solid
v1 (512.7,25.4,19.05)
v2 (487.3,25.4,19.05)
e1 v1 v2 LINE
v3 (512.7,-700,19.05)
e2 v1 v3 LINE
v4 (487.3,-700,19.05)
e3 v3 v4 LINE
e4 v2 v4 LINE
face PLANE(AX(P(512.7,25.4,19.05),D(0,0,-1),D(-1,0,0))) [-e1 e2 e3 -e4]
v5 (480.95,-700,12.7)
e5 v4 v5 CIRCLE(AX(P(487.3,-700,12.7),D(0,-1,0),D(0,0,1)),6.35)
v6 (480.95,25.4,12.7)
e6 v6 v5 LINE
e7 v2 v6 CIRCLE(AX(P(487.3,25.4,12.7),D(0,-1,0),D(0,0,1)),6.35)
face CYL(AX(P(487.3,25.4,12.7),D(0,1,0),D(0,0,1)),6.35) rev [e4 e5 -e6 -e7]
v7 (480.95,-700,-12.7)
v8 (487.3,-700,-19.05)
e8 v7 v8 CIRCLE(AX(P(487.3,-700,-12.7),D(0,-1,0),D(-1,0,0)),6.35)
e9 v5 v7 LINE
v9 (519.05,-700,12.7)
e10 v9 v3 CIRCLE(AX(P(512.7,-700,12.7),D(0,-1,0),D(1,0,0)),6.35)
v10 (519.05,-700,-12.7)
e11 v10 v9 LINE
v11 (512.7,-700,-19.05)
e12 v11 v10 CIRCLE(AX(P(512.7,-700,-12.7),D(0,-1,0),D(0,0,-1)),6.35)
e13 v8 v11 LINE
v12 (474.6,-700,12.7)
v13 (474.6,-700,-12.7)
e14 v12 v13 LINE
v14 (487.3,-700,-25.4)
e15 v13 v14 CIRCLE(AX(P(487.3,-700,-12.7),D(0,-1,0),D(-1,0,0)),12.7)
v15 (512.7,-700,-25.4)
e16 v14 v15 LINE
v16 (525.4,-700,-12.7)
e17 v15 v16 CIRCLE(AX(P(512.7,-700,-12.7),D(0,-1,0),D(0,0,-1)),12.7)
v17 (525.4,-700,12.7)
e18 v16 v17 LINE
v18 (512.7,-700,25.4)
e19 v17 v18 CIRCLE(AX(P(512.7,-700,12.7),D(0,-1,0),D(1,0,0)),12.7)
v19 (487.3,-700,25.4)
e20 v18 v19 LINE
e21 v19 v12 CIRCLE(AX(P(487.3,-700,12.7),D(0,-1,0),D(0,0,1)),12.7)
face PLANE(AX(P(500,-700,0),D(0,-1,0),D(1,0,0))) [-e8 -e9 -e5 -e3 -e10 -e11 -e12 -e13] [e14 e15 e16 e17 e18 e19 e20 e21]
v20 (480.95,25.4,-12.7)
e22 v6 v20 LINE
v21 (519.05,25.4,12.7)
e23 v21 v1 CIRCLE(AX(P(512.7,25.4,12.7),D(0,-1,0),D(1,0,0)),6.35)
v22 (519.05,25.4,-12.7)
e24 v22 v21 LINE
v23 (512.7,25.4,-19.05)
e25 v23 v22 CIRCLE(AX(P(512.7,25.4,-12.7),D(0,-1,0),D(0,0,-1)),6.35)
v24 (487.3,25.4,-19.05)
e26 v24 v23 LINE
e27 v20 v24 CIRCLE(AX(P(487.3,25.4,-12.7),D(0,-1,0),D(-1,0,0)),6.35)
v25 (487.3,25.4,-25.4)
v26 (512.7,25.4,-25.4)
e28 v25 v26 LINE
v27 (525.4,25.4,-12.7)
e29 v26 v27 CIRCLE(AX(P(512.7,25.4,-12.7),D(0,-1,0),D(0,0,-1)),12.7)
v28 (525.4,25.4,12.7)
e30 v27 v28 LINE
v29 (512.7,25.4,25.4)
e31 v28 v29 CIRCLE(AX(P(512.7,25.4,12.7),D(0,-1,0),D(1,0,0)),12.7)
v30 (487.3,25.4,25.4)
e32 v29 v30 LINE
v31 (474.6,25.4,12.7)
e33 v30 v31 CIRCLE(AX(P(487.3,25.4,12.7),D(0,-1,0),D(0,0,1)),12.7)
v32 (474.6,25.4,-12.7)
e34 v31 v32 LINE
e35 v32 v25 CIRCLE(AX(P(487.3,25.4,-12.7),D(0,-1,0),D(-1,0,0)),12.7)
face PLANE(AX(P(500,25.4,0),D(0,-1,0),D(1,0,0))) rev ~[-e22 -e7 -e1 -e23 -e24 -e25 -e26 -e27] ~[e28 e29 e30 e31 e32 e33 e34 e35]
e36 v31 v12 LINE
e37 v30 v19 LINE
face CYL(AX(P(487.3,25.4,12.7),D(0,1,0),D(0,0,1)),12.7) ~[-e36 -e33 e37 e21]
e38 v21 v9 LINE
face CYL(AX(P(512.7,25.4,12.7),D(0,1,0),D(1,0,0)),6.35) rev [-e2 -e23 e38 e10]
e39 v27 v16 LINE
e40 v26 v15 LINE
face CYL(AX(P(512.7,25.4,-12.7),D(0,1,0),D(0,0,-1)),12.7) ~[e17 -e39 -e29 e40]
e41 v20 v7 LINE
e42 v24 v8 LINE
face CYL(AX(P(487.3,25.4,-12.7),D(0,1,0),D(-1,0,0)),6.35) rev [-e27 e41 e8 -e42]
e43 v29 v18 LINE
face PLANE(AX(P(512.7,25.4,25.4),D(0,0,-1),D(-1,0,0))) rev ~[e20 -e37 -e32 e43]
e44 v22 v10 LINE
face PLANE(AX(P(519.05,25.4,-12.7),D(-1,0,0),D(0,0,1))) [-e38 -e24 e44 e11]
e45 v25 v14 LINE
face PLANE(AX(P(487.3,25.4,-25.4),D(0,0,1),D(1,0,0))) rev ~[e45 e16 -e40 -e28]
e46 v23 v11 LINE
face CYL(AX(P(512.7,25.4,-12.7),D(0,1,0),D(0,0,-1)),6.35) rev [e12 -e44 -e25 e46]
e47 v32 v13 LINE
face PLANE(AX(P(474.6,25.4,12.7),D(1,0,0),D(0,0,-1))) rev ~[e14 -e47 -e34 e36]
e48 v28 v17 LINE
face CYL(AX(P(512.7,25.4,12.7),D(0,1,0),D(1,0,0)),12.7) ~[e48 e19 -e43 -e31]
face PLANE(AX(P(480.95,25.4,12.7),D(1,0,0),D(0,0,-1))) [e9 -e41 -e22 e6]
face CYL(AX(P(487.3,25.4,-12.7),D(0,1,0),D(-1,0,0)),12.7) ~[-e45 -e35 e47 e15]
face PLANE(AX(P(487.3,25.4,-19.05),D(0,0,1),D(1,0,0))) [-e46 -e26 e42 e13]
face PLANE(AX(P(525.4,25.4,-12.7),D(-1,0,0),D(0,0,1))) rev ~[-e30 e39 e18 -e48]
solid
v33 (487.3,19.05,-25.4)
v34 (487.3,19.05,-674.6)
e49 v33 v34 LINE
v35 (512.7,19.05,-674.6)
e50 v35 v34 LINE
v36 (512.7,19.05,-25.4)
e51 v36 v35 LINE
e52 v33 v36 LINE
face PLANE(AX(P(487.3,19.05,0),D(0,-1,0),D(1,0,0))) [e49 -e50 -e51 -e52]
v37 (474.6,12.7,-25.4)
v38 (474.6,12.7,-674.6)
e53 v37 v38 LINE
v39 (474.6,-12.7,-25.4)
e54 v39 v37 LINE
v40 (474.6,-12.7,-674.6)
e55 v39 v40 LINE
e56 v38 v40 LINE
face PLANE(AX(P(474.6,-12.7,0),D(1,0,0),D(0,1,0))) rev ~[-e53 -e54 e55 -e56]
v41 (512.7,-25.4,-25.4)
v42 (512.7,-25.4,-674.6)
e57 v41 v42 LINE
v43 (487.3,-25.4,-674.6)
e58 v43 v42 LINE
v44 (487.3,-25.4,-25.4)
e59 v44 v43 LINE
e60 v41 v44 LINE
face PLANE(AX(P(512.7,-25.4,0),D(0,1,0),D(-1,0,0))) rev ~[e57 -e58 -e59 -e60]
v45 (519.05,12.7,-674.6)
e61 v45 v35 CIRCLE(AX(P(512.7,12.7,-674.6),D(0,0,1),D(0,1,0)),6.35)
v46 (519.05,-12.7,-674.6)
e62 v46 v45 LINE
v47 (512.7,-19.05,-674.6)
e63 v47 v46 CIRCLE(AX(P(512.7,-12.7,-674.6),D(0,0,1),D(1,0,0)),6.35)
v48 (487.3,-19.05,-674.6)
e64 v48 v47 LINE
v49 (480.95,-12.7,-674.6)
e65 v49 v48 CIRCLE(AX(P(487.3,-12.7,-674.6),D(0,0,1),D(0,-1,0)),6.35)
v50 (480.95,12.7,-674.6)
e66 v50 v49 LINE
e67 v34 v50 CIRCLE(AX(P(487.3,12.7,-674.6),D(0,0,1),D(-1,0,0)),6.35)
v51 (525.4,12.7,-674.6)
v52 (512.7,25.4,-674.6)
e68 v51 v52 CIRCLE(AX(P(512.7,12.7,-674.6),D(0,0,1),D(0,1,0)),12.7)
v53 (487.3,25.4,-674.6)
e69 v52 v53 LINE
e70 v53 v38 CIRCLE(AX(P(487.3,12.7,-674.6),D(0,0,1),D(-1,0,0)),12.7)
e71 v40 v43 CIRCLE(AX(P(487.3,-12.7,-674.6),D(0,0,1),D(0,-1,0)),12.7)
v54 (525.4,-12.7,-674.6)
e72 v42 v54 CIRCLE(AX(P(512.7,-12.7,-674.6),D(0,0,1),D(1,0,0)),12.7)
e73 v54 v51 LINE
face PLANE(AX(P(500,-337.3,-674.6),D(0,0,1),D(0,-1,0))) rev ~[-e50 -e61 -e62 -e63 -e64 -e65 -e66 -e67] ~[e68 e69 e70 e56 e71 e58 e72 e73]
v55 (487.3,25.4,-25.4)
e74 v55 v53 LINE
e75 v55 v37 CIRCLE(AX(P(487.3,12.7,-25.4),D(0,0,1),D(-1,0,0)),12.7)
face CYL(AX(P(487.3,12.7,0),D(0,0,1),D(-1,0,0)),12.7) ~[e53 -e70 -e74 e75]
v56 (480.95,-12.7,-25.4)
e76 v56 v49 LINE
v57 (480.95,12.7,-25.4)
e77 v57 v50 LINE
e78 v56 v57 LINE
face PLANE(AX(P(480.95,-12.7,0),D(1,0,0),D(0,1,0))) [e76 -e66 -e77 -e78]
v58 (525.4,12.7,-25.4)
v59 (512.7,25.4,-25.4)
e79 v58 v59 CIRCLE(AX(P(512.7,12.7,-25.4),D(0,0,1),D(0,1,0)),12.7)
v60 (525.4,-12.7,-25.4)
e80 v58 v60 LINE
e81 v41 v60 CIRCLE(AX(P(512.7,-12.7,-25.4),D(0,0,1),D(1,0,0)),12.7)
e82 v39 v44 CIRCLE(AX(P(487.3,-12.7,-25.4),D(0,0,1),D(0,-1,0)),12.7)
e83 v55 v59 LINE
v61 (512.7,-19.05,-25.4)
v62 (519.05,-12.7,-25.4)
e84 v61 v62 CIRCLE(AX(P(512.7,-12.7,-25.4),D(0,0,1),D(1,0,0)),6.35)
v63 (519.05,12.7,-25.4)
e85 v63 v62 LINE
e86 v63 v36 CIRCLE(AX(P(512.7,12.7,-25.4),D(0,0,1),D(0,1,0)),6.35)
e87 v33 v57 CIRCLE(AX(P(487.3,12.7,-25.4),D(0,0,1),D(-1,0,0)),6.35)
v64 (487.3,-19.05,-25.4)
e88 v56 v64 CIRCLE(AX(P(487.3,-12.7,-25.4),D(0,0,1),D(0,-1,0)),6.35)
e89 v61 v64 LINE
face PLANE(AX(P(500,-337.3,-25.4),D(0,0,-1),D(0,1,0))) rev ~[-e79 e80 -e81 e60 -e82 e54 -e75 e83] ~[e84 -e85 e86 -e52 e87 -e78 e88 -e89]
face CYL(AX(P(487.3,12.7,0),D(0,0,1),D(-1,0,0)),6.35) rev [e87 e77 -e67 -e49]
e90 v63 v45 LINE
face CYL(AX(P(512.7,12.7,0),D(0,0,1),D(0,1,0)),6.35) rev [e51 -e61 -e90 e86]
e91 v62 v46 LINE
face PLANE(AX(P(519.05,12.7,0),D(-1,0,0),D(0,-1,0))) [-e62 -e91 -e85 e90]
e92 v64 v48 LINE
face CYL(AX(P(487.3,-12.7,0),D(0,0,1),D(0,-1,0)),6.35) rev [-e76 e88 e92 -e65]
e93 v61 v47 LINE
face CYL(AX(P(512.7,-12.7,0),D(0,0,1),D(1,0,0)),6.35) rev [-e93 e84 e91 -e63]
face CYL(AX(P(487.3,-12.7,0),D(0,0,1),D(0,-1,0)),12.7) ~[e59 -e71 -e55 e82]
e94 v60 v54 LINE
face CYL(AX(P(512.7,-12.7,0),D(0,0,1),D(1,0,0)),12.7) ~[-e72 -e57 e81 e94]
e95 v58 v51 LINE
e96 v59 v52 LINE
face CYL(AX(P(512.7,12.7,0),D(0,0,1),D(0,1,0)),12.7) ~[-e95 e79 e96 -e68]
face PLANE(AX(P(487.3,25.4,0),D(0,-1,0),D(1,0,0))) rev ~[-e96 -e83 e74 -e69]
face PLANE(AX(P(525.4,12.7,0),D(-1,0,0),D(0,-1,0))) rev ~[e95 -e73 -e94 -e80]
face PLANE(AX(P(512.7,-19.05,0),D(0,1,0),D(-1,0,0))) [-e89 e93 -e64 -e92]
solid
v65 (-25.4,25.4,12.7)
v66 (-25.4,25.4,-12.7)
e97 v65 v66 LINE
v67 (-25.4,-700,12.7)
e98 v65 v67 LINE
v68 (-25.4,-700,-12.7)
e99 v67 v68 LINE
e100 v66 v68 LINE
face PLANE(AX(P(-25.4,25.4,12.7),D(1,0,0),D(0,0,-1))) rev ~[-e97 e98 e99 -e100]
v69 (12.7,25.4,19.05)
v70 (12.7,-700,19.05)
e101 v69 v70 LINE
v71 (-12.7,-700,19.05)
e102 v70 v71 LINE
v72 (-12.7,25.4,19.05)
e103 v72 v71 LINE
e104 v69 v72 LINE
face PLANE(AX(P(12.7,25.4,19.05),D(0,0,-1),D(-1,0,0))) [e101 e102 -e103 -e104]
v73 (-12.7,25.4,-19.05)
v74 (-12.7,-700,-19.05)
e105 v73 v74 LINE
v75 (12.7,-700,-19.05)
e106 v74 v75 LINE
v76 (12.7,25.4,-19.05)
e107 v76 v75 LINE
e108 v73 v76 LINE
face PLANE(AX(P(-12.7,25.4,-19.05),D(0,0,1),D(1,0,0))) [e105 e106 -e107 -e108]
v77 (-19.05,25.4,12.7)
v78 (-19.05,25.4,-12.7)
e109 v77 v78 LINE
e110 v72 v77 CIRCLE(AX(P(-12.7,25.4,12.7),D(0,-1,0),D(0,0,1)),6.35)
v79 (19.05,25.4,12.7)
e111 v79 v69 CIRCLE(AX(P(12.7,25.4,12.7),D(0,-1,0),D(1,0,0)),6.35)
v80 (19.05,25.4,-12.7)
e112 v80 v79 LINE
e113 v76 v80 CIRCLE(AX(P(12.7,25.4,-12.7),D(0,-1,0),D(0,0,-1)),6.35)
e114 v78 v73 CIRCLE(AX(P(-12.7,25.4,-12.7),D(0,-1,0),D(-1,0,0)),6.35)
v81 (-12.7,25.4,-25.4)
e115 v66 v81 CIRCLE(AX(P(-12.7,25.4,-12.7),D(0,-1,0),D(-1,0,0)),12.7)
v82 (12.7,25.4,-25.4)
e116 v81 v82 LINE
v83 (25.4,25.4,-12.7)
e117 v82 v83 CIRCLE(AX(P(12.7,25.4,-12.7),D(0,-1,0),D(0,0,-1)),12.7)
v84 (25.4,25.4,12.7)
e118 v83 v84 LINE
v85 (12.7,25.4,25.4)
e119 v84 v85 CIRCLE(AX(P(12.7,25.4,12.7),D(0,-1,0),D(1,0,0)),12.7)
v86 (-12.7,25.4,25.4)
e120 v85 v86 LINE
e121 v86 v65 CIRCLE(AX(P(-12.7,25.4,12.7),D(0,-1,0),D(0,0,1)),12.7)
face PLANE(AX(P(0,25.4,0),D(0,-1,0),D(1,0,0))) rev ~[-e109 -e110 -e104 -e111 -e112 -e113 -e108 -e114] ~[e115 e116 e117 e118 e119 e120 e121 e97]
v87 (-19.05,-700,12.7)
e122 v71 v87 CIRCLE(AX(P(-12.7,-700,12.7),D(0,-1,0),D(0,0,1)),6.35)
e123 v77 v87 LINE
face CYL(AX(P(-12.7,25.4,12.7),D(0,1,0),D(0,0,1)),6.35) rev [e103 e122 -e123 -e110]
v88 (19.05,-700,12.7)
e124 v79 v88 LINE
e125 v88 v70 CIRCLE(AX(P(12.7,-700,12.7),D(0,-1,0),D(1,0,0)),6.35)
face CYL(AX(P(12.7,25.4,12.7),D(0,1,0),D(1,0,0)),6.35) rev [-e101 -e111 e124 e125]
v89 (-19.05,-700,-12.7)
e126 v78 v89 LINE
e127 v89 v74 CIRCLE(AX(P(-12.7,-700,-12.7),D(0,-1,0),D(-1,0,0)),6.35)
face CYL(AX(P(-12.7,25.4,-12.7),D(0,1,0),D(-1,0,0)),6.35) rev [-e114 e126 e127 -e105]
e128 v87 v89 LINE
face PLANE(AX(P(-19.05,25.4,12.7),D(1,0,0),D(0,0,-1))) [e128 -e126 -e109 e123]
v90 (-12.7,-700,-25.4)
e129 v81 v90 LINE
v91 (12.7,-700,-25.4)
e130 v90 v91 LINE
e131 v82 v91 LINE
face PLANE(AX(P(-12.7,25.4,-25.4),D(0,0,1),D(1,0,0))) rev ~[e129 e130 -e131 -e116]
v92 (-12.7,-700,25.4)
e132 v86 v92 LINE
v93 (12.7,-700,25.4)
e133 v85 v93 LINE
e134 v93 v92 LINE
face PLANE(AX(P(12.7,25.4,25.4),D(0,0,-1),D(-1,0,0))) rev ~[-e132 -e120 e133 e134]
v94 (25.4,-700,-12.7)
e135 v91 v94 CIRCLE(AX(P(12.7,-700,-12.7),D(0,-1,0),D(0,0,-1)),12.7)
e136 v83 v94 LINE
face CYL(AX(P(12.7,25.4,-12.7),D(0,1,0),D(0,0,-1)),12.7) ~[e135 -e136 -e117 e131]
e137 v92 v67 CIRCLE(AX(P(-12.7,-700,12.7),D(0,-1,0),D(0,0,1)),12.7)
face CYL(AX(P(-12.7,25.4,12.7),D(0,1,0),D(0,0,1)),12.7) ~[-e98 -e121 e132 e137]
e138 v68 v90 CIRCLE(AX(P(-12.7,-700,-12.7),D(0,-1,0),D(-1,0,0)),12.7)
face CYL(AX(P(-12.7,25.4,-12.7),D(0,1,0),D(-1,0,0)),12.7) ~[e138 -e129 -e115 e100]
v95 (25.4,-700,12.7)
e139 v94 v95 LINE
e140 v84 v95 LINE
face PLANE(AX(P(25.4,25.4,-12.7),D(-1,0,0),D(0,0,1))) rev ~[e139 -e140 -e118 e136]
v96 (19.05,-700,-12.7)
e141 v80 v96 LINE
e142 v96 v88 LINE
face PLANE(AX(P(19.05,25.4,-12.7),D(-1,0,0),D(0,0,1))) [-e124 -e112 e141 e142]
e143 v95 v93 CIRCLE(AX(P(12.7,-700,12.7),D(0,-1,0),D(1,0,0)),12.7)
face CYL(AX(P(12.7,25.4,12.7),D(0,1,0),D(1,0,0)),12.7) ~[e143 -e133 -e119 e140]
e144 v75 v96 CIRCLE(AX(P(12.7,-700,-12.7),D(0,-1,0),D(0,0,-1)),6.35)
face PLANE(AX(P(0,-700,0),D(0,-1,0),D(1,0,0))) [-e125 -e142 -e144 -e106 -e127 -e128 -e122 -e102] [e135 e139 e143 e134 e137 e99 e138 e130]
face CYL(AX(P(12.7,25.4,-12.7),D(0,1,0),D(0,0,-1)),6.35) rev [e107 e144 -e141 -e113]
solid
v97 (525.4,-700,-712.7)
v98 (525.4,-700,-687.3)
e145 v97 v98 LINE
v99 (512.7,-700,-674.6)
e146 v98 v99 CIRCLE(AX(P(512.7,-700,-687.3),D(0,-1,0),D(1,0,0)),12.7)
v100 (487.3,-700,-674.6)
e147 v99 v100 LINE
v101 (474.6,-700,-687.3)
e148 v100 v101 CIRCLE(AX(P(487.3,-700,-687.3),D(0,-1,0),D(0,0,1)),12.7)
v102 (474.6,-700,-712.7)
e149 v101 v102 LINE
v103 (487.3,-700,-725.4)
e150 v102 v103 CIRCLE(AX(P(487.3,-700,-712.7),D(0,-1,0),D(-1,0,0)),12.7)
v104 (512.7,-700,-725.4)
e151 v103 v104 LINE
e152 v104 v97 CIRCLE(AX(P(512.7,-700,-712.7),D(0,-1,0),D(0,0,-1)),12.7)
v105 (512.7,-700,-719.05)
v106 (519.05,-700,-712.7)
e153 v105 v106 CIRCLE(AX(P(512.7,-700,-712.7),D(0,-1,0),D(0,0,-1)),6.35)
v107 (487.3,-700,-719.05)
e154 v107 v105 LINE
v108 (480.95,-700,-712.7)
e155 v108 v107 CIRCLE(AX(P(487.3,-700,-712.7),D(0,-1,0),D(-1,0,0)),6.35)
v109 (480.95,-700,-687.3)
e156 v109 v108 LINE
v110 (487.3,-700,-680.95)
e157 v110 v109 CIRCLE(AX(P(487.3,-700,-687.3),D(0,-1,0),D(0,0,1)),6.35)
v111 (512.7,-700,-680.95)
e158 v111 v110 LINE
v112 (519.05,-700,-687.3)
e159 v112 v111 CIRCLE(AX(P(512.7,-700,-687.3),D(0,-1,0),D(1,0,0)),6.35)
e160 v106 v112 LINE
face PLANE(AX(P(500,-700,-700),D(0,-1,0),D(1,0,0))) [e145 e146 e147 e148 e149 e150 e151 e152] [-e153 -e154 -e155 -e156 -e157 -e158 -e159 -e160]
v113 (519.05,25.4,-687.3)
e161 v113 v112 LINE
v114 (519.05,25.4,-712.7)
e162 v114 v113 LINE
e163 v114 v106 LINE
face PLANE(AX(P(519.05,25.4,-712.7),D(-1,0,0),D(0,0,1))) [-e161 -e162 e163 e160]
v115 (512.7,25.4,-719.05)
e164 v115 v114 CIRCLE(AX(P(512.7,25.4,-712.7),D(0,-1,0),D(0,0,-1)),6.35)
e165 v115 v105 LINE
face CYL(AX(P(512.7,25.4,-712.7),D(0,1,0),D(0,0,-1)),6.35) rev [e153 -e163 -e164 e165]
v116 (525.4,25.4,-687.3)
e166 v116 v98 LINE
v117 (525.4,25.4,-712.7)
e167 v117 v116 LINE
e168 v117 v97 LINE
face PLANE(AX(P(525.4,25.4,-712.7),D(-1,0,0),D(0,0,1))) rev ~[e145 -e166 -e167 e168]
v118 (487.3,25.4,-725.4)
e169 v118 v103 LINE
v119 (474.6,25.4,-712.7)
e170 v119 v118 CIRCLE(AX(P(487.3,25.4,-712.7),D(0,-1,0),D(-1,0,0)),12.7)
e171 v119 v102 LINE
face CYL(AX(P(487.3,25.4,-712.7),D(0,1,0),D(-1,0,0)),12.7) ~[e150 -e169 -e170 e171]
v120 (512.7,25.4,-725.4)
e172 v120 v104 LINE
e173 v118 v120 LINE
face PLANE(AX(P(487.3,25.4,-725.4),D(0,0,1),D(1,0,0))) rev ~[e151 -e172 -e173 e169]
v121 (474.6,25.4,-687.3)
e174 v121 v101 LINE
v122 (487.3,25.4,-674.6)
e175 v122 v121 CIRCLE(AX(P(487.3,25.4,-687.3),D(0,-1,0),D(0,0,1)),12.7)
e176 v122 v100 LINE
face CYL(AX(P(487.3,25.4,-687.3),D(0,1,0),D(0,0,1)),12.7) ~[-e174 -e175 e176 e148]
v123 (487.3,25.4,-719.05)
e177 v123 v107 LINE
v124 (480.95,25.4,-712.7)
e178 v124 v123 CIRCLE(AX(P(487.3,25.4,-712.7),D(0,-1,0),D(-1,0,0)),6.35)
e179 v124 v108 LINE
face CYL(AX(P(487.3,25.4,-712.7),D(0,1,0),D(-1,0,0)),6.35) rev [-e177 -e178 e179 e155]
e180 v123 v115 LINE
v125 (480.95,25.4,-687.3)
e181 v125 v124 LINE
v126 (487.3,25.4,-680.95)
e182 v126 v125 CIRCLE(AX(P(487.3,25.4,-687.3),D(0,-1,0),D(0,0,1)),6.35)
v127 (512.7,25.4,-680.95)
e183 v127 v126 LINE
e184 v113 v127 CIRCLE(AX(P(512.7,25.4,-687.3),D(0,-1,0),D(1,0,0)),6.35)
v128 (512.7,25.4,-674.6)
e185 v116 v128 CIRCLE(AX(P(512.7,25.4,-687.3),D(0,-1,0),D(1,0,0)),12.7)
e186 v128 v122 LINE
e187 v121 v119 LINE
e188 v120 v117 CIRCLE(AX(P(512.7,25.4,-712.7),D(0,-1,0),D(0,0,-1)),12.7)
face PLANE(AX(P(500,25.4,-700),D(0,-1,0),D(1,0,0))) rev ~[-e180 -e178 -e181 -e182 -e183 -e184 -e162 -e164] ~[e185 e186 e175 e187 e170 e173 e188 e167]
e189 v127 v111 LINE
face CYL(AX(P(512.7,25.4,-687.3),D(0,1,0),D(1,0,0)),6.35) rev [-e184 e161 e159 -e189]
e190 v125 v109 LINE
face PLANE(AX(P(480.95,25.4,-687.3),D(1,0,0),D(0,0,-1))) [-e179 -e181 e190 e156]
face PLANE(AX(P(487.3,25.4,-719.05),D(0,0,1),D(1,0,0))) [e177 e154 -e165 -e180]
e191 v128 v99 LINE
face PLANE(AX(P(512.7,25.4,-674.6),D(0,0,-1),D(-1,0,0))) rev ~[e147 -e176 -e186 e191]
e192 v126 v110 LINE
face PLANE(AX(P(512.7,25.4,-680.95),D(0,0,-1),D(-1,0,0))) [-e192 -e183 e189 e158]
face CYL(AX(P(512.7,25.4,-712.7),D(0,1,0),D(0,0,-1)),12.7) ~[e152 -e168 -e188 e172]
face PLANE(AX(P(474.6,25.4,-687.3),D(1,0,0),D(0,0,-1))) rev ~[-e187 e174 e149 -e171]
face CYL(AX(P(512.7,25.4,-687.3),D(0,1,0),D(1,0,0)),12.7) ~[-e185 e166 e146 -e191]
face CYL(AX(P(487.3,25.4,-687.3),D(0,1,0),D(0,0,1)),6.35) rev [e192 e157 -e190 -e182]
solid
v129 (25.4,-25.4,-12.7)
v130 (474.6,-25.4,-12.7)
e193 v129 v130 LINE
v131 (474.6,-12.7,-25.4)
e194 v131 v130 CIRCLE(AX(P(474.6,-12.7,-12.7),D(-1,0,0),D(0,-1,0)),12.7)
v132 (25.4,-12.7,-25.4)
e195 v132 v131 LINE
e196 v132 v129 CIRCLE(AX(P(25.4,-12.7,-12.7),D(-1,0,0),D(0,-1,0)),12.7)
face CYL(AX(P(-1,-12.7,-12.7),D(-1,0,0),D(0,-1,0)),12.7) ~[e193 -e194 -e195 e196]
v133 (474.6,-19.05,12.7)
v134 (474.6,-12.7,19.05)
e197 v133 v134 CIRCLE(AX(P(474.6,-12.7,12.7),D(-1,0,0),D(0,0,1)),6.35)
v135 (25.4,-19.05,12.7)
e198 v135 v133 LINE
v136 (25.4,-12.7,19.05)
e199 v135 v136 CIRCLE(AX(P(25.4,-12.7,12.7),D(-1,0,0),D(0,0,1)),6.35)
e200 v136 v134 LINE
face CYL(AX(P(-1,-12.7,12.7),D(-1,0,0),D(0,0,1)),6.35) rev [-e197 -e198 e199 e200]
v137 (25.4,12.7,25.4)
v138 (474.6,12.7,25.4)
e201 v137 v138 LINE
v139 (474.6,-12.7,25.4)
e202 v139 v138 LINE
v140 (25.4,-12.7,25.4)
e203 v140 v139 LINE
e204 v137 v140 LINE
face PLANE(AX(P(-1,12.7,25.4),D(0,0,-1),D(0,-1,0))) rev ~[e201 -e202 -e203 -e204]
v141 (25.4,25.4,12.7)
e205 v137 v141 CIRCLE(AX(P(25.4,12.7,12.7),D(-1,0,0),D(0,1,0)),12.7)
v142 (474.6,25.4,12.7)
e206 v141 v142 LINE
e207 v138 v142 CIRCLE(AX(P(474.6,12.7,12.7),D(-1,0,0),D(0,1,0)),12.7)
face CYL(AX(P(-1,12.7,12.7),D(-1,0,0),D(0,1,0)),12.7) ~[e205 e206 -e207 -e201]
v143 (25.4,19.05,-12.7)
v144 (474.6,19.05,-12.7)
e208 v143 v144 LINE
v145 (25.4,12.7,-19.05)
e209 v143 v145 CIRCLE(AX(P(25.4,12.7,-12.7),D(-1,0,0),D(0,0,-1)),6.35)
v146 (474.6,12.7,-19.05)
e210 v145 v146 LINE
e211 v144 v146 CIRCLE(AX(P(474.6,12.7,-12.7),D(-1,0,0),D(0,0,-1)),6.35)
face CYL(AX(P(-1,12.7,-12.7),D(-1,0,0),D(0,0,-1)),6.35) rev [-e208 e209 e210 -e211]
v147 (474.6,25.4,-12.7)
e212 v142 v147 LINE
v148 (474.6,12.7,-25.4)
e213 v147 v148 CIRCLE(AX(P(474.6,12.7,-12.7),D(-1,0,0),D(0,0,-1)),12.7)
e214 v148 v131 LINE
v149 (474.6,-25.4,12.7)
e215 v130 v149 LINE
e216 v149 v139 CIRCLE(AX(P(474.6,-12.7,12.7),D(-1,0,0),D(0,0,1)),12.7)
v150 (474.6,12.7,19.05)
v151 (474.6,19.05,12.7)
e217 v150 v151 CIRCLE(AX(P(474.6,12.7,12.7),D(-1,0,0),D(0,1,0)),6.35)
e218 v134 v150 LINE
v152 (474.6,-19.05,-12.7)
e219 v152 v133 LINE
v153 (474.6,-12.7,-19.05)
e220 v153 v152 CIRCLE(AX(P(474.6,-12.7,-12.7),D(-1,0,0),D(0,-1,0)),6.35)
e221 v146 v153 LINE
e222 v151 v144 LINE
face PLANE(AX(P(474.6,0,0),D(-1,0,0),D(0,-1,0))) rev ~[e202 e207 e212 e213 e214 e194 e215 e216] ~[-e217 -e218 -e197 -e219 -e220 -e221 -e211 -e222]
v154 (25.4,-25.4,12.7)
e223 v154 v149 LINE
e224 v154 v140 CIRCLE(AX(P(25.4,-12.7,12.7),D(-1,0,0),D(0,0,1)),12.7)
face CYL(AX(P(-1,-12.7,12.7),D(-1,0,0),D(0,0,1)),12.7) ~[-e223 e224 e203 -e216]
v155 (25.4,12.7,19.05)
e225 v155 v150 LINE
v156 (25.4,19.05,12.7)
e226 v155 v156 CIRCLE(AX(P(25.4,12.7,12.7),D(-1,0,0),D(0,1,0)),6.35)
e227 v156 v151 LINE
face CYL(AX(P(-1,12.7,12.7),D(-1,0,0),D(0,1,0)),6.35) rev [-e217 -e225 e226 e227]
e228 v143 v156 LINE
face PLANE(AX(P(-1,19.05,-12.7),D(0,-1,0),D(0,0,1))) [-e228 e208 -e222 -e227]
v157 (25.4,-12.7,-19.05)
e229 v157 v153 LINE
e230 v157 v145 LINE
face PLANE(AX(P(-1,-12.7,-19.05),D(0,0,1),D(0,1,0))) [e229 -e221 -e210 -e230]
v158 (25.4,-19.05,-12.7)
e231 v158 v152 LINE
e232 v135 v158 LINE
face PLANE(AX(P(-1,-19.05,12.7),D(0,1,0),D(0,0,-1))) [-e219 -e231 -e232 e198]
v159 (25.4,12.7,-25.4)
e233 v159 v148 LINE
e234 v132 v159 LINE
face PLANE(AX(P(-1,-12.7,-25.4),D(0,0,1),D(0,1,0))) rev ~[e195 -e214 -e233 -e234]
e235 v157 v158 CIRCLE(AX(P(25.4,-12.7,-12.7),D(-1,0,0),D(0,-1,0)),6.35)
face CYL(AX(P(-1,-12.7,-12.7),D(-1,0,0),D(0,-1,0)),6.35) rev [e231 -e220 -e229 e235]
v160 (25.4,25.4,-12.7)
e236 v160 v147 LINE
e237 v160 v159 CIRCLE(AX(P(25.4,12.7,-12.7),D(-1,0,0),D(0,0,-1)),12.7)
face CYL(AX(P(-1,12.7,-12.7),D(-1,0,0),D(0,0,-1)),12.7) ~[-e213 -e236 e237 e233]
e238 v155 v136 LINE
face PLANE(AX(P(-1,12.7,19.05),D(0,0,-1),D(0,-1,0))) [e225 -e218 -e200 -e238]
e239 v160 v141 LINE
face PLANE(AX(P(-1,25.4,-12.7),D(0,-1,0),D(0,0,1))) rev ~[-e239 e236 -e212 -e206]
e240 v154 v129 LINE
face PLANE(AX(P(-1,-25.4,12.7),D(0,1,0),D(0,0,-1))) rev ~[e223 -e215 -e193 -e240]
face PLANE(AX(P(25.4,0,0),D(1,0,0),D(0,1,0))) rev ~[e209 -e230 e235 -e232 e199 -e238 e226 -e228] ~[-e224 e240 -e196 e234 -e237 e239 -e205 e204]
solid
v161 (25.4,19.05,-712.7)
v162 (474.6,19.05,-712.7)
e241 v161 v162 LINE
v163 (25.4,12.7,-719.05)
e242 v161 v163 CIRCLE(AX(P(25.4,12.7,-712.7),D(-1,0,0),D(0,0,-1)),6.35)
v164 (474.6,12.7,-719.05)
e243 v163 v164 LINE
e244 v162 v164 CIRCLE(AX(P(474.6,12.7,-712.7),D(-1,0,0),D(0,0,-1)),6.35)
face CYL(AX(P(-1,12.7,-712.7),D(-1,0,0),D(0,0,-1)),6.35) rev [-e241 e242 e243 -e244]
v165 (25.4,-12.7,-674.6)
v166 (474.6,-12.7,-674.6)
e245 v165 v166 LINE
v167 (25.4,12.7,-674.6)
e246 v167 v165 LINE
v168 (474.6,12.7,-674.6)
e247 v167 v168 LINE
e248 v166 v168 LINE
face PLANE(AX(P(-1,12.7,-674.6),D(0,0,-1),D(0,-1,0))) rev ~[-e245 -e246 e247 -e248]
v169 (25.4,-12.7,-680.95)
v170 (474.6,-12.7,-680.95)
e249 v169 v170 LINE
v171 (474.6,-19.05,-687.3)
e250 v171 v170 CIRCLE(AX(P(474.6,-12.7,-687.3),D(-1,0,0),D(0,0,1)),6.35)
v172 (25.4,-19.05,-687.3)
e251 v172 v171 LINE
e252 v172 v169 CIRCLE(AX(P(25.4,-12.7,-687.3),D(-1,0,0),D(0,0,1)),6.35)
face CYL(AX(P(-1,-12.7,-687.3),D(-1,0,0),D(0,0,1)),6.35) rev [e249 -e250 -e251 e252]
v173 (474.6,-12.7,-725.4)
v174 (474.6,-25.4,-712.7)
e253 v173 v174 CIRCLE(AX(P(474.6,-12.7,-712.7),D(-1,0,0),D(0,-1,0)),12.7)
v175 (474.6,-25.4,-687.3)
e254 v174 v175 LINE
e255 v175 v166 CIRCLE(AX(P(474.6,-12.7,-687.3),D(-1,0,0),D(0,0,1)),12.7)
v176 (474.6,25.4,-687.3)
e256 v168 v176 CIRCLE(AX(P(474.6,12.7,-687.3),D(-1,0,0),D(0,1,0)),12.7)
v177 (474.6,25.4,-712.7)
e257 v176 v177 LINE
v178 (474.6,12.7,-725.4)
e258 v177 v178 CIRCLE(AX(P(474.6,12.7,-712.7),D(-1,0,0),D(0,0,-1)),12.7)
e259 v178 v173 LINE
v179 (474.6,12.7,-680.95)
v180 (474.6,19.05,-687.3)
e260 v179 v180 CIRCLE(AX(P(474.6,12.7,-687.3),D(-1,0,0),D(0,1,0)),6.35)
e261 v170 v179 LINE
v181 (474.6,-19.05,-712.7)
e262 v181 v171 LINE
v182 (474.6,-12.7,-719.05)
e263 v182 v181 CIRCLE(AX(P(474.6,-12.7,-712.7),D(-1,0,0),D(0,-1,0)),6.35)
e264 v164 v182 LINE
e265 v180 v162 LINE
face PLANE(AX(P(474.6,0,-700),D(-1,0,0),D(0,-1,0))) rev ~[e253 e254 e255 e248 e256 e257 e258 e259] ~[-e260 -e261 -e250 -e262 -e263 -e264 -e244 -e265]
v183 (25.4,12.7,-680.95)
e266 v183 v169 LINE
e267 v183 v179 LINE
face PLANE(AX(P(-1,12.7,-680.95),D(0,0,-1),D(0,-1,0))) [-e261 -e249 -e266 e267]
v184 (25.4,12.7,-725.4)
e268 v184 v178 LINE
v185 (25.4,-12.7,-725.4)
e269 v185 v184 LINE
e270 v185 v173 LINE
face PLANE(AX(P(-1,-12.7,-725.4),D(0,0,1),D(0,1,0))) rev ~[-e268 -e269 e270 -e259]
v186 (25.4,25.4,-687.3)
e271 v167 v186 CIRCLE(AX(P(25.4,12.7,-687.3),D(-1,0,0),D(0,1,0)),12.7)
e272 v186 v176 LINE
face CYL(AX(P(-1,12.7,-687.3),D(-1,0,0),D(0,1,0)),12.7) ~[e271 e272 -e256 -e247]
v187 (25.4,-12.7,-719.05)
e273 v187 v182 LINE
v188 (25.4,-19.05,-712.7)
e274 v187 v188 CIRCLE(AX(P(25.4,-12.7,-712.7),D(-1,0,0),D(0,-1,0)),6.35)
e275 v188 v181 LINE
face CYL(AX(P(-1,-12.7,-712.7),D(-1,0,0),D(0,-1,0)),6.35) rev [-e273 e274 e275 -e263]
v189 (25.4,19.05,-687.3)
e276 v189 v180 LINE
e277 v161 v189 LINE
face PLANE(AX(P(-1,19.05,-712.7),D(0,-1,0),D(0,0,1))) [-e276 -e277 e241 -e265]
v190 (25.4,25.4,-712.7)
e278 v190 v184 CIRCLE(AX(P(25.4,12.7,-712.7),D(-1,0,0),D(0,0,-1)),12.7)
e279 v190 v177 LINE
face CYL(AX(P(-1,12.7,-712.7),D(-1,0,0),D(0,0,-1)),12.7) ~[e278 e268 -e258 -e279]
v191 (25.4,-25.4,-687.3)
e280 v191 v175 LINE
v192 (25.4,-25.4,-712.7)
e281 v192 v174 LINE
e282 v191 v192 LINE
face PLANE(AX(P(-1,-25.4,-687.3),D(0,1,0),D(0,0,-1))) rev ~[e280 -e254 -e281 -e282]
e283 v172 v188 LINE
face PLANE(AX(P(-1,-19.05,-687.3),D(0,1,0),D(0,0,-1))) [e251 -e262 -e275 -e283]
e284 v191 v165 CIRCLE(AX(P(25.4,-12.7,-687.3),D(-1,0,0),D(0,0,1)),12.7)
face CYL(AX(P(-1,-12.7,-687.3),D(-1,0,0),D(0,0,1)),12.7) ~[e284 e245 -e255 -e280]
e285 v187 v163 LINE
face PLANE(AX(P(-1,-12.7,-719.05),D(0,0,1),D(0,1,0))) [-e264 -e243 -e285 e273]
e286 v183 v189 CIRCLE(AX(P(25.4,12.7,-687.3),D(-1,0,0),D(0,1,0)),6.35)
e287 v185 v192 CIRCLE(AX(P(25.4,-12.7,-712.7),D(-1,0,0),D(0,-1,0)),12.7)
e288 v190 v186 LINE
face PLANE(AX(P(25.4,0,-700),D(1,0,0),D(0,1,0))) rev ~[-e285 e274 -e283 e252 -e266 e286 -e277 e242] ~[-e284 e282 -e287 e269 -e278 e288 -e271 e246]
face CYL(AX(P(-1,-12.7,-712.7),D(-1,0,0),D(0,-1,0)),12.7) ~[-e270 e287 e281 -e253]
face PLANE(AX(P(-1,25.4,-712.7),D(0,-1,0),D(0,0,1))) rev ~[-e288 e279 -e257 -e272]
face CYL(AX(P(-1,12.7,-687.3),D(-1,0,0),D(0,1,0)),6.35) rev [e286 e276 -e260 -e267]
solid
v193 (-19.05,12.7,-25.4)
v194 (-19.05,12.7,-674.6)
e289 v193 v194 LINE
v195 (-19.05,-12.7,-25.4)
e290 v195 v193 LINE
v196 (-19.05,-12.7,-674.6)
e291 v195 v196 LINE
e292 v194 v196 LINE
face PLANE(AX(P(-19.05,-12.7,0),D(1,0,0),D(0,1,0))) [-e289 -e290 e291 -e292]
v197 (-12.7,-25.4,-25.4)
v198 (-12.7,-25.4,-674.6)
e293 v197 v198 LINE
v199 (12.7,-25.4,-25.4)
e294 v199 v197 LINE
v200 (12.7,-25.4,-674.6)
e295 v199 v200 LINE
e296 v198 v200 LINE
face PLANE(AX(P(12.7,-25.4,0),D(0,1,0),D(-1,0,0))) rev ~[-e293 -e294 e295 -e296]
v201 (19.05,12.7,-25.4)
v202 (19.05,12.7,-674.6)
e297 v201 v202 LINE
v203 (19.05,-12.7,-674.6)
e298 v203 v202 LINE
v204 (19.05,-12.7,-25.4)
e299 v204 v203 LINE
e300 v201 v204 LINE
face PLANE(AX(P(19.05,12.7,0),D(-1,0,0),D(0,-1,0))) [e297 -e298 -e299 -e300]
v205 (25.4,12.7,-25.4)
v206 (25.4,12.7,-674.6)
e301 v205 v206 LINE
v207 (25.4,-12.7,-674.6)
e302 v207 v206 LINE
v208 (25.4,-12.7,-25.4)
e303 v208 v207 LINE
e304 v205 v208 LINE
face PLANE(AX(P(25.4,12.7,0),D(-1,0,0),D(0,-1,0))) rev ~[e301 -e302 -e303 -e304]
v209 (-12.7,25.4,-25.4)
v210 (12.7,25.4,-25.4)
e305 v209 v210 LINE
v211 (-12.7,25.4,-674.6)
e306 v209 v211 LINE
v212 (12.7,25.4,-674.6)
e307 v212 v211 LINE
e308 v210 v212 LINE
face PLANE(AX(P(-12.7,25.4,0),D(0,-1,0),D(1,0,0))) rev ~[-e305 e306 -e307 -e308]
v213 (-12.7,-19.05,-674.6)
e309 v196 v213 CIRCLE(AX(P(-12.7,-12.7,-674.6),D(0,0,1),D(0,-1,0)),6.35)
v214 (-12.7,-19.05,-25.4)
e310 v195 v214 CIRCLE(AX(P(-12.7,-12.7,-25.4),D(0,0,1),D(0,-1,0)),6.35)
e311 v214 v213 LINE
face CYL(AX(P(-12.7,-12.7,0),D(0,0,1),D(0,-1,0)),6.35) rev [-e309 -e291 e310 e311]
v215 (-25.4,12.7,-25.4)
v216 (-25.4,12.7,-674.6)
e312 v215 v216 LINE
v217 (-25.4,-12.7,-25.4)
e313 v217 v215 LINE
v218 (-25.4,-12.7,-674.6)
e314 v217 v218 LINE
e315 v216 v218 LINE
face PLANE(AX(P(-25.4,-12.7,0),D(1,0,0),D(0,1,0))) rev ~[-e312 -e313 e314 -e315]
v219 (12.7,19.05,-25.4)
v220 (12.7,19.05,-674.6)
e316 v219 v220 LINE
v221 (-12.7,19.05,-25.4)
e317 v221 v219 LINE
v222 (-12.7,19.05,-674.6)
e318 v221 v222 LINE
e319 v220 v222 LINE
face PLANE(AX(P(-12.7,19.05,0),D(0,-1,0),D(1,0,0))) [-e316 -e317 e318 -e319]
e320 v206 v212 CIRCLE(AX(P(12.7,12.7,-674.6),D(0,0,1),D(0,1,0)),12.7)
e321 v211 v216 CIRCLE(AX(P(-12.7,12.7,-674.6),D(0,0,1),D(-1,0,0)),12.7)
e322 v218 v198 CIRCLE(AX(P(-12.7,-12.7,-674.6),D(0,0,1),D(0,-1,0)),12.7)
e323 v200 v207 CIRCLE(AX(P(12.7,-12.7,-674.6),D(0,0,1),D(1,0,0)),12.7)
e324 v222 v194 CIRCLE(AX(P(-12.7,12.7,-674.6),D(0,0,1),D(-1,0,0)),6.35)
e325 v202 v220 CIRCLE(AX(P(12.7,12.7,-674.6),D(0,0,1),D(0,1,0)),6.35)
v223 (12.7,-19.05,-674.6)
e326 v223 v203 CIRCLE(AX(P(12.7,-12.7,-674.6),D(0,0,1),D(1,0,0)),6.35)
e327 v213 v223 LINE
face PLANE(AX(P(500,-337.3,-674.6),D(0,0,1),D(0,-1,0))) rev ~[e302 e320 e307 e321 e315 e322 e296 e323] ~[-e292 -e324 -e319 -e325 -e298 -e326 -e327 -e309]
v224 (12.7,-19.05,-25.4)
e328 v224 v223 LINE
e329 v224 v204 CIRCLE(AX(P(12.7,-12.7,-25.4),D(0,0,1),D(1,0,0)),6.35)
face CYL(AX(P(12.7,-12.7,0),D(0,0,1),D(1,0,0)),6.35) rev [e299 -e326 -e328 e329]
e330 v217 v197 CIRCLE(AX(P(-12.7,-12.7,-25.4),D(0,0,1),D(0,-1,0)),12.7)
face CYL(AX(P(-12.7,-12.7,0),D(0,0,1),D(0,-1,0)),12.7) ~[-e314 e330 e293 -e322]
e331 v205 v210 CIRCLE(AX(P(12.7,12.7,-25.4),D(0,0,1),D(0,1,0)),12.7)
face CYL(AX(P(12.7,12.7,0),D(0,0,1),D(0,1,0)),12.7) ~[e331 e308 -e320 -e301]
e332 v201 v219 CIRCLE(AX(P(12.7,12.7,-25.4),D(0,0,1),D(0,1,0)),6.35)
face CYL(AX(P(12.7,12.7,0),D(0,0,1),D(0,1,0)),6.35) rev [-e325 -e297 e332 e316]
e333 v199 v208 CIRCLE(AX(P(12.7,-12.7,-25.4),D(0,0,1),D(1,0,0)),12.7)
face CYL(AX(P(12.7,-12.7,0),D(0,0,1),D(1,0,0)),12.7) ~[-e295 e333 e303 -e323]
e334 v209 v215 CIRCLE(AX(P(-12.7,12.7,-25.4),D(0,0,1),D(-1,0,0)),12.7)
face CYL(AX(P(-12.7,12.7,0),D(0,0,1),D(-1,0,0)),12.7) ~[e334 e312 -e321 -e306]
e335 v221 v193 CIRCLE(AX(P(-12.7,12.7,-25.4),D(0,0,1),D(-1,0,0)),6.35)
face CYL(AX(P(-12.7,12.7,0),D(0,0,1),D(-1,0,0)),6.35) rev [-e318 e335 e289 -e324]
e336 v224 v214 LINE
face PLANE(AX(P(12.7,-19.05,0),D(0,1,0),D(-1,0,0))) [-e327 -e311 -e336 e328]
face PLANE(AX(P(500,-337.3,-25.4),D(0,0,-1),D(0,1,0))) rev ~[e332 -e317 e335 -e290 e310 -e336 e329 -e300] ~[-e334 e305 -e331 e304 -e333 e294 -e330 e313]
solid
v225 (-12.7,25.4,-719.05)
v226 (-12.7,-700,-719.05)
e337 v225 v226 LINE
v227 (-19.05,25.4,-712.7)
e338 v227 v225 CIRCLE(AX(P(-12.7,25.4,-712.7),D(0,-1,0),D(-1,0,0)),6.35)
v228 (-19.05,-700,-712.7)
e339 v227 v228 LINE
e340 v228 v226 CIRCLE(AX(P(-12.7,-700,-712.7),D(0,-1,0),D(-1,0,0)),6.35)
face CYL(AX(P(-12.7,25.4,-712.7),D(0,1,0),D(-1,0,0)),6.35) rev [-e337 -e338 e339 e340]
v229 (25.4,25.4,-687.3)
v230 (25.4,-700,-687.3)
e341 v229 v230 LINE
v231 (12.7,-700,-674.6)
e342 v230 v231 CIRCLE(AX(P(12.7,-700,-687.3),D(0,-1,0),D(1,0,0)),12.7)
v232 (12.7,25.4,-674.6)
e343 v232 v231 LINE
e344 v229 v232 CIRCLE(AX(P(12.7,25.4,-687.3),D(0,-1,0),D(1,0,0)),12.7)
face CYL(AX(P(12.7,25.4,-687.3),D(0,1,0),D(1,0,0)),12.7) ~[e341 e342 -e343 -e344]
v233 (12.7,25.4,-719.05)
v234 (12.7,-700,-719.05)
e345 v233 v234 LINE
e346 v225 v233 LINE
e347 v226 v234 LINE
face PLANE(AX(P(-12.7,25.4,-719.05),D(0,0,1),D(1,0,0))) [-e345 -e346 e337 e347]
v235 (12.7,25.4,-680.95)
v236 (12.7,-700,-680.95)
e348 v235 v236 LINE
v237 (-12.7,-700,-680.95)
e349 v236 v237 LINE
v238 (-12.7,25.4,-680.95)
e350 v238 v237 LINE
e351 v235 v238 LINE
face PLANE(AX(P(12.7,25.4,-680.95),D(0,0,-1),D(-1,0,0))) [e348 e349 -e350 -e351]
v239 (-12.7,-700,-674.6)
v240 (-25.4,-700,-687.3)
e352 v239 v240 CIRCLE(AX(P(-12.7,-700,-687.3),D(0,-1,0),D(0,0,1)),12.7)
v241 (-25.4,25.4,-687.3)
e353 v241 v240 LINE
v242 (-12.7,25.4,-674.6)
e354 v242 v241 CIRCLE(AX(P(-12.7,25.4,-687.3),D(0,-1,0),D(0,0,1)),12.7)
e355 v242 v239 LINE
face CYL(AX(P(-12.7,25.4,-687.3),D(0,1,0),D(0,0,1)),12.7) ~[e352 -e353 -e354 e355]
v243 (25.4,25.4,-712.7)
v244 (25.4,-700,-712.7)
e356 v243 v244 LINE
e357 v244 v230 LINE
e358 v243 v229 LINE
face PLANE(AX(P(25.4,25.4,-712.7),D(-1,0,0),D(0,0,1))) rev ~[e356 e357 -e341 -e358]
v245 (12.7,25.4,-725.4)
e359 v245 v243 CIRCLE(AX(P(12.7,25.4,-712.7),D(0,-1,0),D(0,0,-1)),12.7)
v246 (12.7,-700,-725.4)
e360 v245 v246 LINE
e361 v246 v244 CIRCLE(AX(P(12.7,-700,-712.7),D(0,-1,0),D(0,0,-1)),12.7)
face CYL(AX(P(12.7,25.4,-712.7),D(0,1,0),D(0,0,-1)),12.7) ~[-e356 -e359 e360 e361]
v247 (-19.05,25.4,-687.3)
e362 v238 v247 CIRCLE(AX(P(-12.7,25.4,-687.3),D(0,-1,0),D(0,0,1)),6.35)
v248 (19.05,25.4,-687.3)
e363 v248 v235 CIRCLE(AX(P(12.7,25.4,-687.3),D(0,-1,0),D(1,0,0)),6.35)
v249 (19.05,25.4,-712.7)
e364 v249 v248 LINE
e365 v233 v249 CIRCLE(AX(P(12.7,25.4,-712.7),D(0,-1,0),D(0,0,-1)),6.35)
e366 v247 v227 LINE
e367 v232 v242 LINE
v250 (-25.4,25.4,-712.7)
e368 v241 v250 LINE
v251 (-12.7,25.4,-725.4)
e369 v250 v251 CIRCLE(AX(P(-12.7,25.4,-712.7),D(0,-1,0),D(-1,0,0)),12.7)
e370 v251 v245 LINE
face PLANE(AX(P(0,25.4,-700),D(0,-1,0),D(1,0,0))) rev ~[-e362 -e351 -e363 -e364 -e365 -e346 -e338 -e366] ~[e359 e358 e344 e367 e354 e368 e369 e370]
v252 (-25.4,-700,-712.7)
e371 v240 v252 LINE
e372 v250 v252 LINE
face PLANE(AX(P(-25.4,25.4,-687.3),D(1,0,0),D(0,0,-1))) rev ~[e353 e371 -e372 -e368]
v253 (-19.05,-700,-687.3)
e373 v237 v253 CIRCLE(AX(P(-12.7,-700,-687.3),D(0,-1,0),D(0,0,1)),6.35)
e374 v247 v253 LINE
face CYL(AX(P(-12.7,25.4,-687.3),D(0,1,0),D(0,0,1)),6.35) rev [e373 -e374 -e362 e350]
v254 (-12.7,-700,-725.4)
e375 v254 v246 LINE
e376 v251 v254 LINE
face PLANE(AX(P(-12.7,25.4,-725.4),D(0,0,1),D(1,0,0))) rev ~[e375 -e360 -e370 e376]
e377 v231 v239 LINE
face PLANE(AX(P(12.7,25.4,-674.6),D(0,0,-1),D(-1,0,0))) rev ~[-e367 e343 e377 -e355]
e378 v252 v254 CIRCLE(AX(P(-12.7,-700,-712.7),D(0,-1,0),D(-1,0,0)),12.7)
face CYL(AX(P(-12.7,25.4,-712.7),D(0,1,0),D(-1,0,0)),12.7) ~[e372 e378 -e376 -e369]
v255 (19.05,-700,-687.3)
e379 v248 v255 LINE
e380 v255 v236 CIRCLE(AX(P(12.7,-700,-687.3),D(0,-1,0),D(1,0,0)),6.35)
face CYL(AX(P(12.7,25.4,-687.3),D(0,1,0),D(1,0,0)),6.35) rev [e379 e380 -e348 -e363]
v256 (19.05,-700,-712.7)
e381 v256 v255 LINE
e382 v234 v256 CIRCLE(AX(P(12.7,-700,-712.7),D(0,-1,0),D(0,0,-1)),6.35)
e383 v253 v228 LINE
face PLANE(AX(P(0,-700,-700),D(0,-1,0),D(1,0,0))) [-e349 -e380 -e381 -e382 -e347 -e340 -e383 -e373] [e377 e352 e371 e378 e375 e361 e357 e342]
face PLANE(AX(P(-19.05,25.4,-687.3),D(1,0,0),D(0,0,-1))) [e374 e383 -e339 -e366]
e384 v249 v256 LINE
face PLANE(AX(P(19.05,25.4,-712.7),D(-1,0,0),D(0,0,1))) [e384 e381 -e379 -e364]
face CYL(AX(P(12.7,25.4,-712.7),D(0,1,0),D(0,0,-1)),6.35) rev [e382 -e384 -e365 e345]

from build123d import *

# Parameters (mm, degrees)
SQUARE_TUBE_2_X_2_X_0_25_1_DEPTH      = 700
SQUARE_TUBE_2_X_2_X_0_25_1_DEPTH_BACK = 25.4
SQUARE_TUBE_2_X_2_X_0_25_1_2_DEPTH    = 725.4
SQUARE_TUBE_2_X_2_X_0_25_1_3_DEPTH    = 725.4
SQUARE_TUBE_2_X_2_X_0_25_1_4_DEPTH    = 725.4
SQUARE_TUBE_2_X_2_X_0_25_1_5_DEPTH    = 502
SQUARE_TUBE_2_X_2_X_0_25_1_6_DEPTH    = 502
SQUARE_TUBE_2_X_2_X_0_25_3_DEPTH      = 700
SQUARE_TUBE_2_X_2_X_0_25_3_2_DEPTH    = 700


with BuildPart() as part:
    # Sketch11 → Square tube 2 X 2 X 0.25(1) (new, two sides: drawn at the far end of the back side and taken through both)
    with BuildSketch(Plane(origin=(500, 0, 0), x_dir=(1, 0, 0), z_dir=(0, -1, 0)).offset(-SQUARE_TUBE_2_X_2_X_0_25_1_DEPTH_BACK)):
        with BuildLine():
            Line((-12.7, -25.4), (12.7, -25.4))
            ThreePointArc((12.7, -25.4), (21.680256121, -21.680256121), (25.4, -12.7))
            Line((25.4, -12.7), (25.4, 12.7))
            ThreePointArc((25.4, 12.7), (21.680256121, 21.680256121), (12.7, 25.4))
            Line((12.7, 25.4), (-12.7, 25.4))
            ThreePointArc((-12.7, 25.4), (-21.680256121, 21.680256121), (-25.4, 12.7))
            Line((-25.4, 12.7), (-25.4, -12.7))
            ThreePointArc((-25.4, -12.7), (-21.680256121, -21.680256121), (-12.7, -25.4))
        make_face()
        with BuildLine():
            Line((-12.7, -19.05), (12.7, -19.05))
            ThreePointArc((12.7, -19.05), (17.190128061, -17.190128061), (19.05, -12.7))
            Line((19.05, -12.7), (19.05, 12.7))
            ThreePointArc((19.05, 12.7), (17.190128061, 17.190128061), (12.7, 19.05))
            Line((12.7, 19.05), (-12.7, 19.05))
            ThreePointArc((-12.7, 19.05), (-17.190128061, 17.190128061), (-19.05, 12.7))
            Line((-19.05, 12.7), (-19.05, -12.7))
            ThreePointArc((-19.05, -12.7), (-17.190128061, -17.190128061), (-12.7, -19.05))
        make_face(mode=Mode.SUBTRACT)
    extrude(amount=SQUARE_TUBE_2_X_2_X_0_25_1_DEPTH + SQUARE_TUBE_2_X_2_X_0_25_1_DEPTH_BACK)


with BuildPart() as body_2:
    # Sketch11 on segment 2 (carried to segment 2) → Square tube 2 X 2 X 0.25_1 2 (new body)
    with BuildSketch(Plane.XZ.offset(-25.4)):
        with BuildLine():
            Line((-12.7, -25.4), (12.7, -25.4))
            ThreePointArc((12.7, -25.4), (21.680256121, -21.680256121), (25.4, -12.7))
            Line((25.4, -12.7), (25.4, 12.7))
            ThreePointArc((25.4, 12.7), (21.680256121, 21.680256121), (12.7, 25.4))
            Line((12.7, 25.4), (-12.7, 25.4))
            ThreePointArc((-12.7, 25.4), (-21.680256121, 21.680256121), (-25.4, 12.7))
            Line((-25.4, 12.7), (-25.4, -12.7))
            ThreePointArc((-25.4, -12.7), (-21.680256121, -21.680256121), (-12.7, -25.4))
        make_face()
        with BuildLine():
            Line((-12.7, -19.05), (12.7, -19.05))
            ThreePointArc((12.7, -19.05), (17.190128061, -17.190128061), (19.05, -12.7))
            Line((19.05, -12.7), (19.05, 12.7))
            ThreePointArc((19.05, 12.7), (17.190128061, 17.190128061), (12.7, 19.05))
            Line((12.7, 19.05), (-12.7, 19.05))
            ThreePointArc((-12.7, 19.05), (-17.190128061, 17.190128061), (-19.05, 12.7))
            Line((-19.05, 12.7), (-19.05, -12.7))
            ThreePointArc((-19.05, -12.7), (-17.190128061, -17.190128061), (-12.7, -19.05))
        make_face(mode=Mode.SUBTRACT)
    extrude(amount=SQUARE_TUBE_2_X_2_X_0_25_1_2_DEPTH)


with BuildPart() as body_3:
    # Sketch11 on segment 3 (carried to segment 3) → Square tube 2 X 2 X 0.25_1 3 (new body)
    with BuildSketch(Plane(origin=(500, 25.4, -700), x_dir=(1, 0, 0), z_dir=(0, -1, 0))):
        with BuildLine():
            Line((-12.7, -25.4), (12.7, -25.4))
            ThreePointArc((12.7, -25.4), (21.680256121, -21.680256121), (25.4, -12.7))
            Line((25.4, -12.7), (25.4, 12.7))
            ThreePointArc((25.4, 12.7), (21.680256121, 21.680256121), (12.7, 25.4))
            Line((12.7, 25.4), (-12.7, 25.4))
            ThreePointArc((-12.7, 25.4), (-21.680256121, 21.680256121), (-25.4, 12.7))
            Line((-25.4, 12.7), (-25.4, -12.7))
            ThreePointArc((-25.4, -12.7), (-21.680256121, -21.680256121), (-12.7, -25.4))
        make_face()
        with BuildLine():
            Line((-12.7, -19.05), (12.7, -19.05))
            ThreePointArc((12.7, -19.05), (17.190128061, -17.190128061), (19.05, -12.7))
            Line((19.05, -12.7), (19.05, 12.7))
            ThreePointArc((19.05, 12.7), (17.190128061, 17.190128061), (12.7, 19.05))
            Line((12.7, 19.05), (-12.7, 19.05))
            ThreePointArc((-12.7, 19.05), (-17.190128061, 17.190128061), (-19.05, 12.7))
            Line((-19.05, 12.7), (-19.05, -12.7))
            ThreePointArc((-19.05, -12.7), (-17.190128061, -17.190128061), (-12.7, -19.05))
        make_face(mode=Mode.SUBTRACT)
    extrude(amount=SQUARE_TUBE_2_X_2_X_0_25_1_3_DEPTH)


with BuildPart() as body_4:
    # Sketch11 on segment 4 (carried to segment 4) → Square tube 2 X 2 X 0.25_1 4 (new body)
    with BuildSketch(Plane(origin=(0, 25.4, -700), x_dir=(1, 0, 0), z_dir=(0, -1, 0))):
        with BuildLine():
            Line((-12.7, -25.4), (12.7, -25.4))
            ThreePointArc((12.7, -25.4), (21.680256121, -21.680256121), (25.4, -12.7))
            Line((25.4, -12.7), (25.4, 12.7))
            ThreePointArc((25.4, 12.7), (21.680256121, 21.680256121), (12.7, 25.4))
            Line((12.7, 25.4), (-12.7, 25.4))
            ThreePointArc((-12.7, 25.4), (-21.680256121, 21.680256121), (-25.4, 12.7))
            Line((-25.4, 12.7), (-25.4, -12.7))
            ThreePointArc((-25.4, -12.7), (-21.680256121, -21.680256121), (-12.7, -25.4))
        make_face()
        with BuildLine():
            Line((-12.7, -19.05), (12.7, -19.05))
            ThreePointArc((12.7, -19.05), (17.190128061, -17.190128061), (19.05, -12.7))
            Line((19.05, -12.7), (19.05, 12.7))
            ThreePointArc((19.05, 12.7), (17.190128061, 17.190128061), (12.7, 19.05))
            Line((12.7, 19.05), (-12.7, 19.05))
            ThreePointArc((-12.7, 19.05), (-17.190128061, 17.190128061), (-19.05, 12.7))
            Line((-19.05, 12.7), (-19.05, -12.7))
            ThreePointArc((-19.05, -12.7), (-17.190128061, -17.190128061), (-12.7, -19.05))
        make_face(mode=Mode.SUBTRACT)
    extrude(amount=SQUARE_TUBE_2_X_2_X_0_25_1_4_DEPTH)


with BuildPart() as body_5:
    # Sketch11 on segment 5 (carried to segment 5) → Square tube 2 X 2 X 0.25_1 5 (new body)
    with BuildSketch(Plane.YZ.offset(-1)):
        with BuildLine():
            Line((-12.7, -25.4), (12.7, -25.4))
            ThreePointArc((12.7, -25.4), (21.680256121, -21.680256121), (25.4, -12.7))
            Line((25.4, -12.7), (25.4, 12.7))
            ThreePointArc((25.4, 12.7), (21.680256121, 21.680256121), (12.7, 25.4))
            Line((12.7, 25.4), (-12.7, 25.4))
            ThreePointArc((-12.7, 25.4), (-21.680256121, 21.680256121), (-25.4, 12.7))
            Line((-25.4, 12.7), (-25.4, -12.7))
            ThreePointArc((-25.4, -12.7), (-21.680256121, -21.680256121), (-12.7, -25.4))
        make_face()
        with BuildLine():
            Line((-12.7, -19.05), (12.7, -19.05))
            ThreePointArc((12.7, -19.05), (17.190128061, -17.190128061), (19.05, -12.7))
            Line((19.05, -12.7), (19.05, 12.7))
            ThreePointArc((19.05, 12.7), (17.190128061, 17.190128061), (12.7, 19.05))
            Line((12.7, 19.05), (-12.7, 19.05))
            ThreePointArc((-12.7, 19.05), (-17.190128061, 17.190128061), (-19.05, 12.7))
            Line((-19.05, 12.7), (-19.05, -12.7))
            ThreePointArc((-19.05, -12.7), (-17.190128061, -17.190128061), (-12.7, -19.05))
        make_face(mode=Mode.SUBTRACT)
    extrude(amount=SQUARE_TUBE_2_X_2_X_0_25_1_5_DEPTH)

    # Square tube 2 X 2 X 0.25_1 5 end butt 1
    split(bisect_by=Plane.YZ.offset(25.4), keep=Keep.TOP)

    # Square tube 2 X 2 X 0.25_1 5 end butt 2
    split(bisect_by=Plane(origin=(474.6, 0, 0), x_dir=(0, -1, 0), z_dir=(-1, 0, 0)), keep=Keep.TOP)


with BuildPart() as body_6:
    # Sketch11 on segment 6 (carried to segment 6) → Square tube 2 X 2 X 0.25_1 6 (new body)
    with BuildSketch(Plane(origin=(-1, 0, -700), x_dir=(0, 1, 0), z_dir=(1, 0, 0))):
        with BuildLine():
            Line((-12.7, -25.4), (12.7, -25.4))
            ThreePointArc((12.7, -25.4), (21.680256121, -21.680256121), (25.4, -12.7))
            Line((25.4, -12.7), (25.4, 12.7))
            ThreePointArc((25.4, 12.7), (21.680256121, 21.680256121), (12.7, 25.4))
            Line((12.7, 25.4), (-12.7, 25.4))
            ThreePointArc((-12.7, 25.4), (-21.680256121, 21.680256121), (-25.4, 12.7))
            Line((-25.4, 12.7), (-25.4, -12.7))
            ThreePointArc((-25.4, -12.7), (-21.680256121, -21.680256121), (-12.7, -25.4))
        make_face()
        with BuildLine():
            Line((-12.7, -19.05), (12.7, -19.05))
            ThreePointArc((12.7, -19.05), (17.190128061, -17.190128061), (19.05, -12.7))
            Line((19.05, -12.7), (19.05, 12.7))
            ThreePointArc((19.05, 12.7), (17.190128061, 17.190128061), (12.7, 19.05))
            Line((12.7, 19.05), (-12.7, 19.05))
            ThreePointArc((-12.7, 19.05), (-17.190128061, 17.190128061), (-19.05, 12.7))
            Line((-19.05, 12.7), (-19.05, -12.7))
            ThreePointArc((-19.05, -12.7), (-17.190128061, -17.190128061), (-12.7, -19.05))
        make_face(mode=Mode.SUBTRACT)
    extrude(amount=SQUARE_TUBE_2_X_2_X_0_25_1_6_DEPTH)

    # Square tube 2 X 2 X 0.25_1 6 end butt 1
    split(bisect_by=Plane(origin=(25.4, 0, -700), x_dir=(0, 1, 0), z_dir=(1, 0, 0)), keep=Keep.TOP)

    # Square tube 2 X 2 X 0.25_1 6 end butt 2
    split(bisect_by=Plane(origin=(474.6, 0, -700), x_dir=(0, -1, 0), z_dir=(-1, 0, 0)), keep=Keep.TOP)


with BuildPart() as body_7:
    # Sketch1 → Square tube 2 X 2 X 0.25(3) (new body)
    with BuildSketch(Plane(origin=(500, 0, 0), x_dir=(1, 0, 0), z_dir=(0, 0, -1))):
        with BuildLine():
            Line((-12.7, -25.4), (12.7, -25.4))
            ThreePointArc((12.7, -25.4), (21.680256121, -21.680256121), (25.4, -12.7))
            Line((25.4, -12.7), (25.4, 12.7))
            ThreePointArc((25.4, 12.7), (21.680256121, 21.680256121), (12.7, 25.4))
            Line((12.7, 25.4), (-12.7, 25.4))
            ThreePointArc((-12.7, 25.4), (-21.680256121, 21.680256121), (-25.4, 12.7))
            Line((-25.4, 12.7), (-25.4, -12.7))
            ThreePointArc((-25.4, -12.7), (-21.680256121, -21.680256121), (-12.7, -25.4))
        make_face()
        with BuildLine():
            Line((-12.7, -19.05), (12.7, -19.05))
            ThreePointArc((12.7, -19.05), (17.190128061, -17.190128061), (19.05, -12.7))
            Line((19.05, -12.7), (19.05, 12.7))
            ThreePointArc((19.05, 12.7), (17.190128061, 17.190128061), (12.7, 19.05))
            Line((12.7, 19.05), (-12.7, 19.05))
            ThreePointArc((-12.7, 19.05), (-17.190128061, 17.190128061), (-19.05, 12.7))
            Line((-19.05, 12.7), (-19.05, -12.7))
            ThreePointArc((-19.05, -12.7), (-17.190128061, -17.190128061), (-12.7, -19.05))
        make_face(mode=Mode.SUBTRACT)
    extrude(amount=SQUARE_TUBE_2_X_2_X_0_25_3_DEPTH)

    # Trim/Extend1
    split(bisect_by=Plane(origin=(500, -337.3, -674.6), x_dir=(0, -1, 0), z_dir=(0, 0, 1)), keep=Keep.TOP)

    # Trim_Extend1 3
    split(bisect_by=Plane(origin=(500, -337.3, -25.4), x_dir=(0, 1, 0), z_dir=(0, 0, -1)), keep=Keep.TOP)


with BuildPart() as body_8:
    # Sketch1 on segment 2 (carried to segment 2) → Square tube 2 X 2 X 0.25_3 2 (new body)
    with BuildSketch(Plane(origin=(0, 0, 0), x_dir=(1, 0, 0), z_dir=(0, 0, -1))):
        with BuildLine():
            Line((-12.7, -25.4), (12.7, -25.4))
            ThreePointArc((12.7, -25.4), (21.680256121, -21.680256121), (25.4, -12.7))
            Line((25.4, -12.7), (25.4, 12.7))
            ThreePointArc((25.4, 12.7), (21.680256121, 21.680256121), (12.7, 25.4))
            Line((12.7, 25.4), (-12.7, 25.4))
            ThreePointArc((-12.7, 25.4), (-21.680256121, 21.680256121), (-25.4, 12.7))
            Line((-25.4, 12.7), (-25.4, -12.7))
            ThreePointArc((-25.4, -12.7), (-21.680256121, -21.680256121), (-12.7, -25.4))
        make_face()
        with BuildLine():
            Line((-12.7, -19.05), (12.7, -19.05))
            ThreePointArc((12.7, -19.05), (17.190128061, -17.190128061), (19.05, -12.7))
            Line((19.05, -12.7), (19.05, 12.7))
            ThreePointArc((19.05, 12.7), (17.190128061, 17.190128061), (12.7, 19.05))
            Line((12.7, 19.05), (-12.7, 19.05))
            ThreePointArc((-12.7, 19.05), (-17.190128061, 17.190128061), (-19.05, 12.7))
            Line((-19.05, 12.7), (-19.05, -12.7))
            ThreePointArc((-19.05, -12.7), (-17.190128061, -17.190128061), (-12.7, -19.05))
        make_face(mode=Mode.SUBTRACT)
    extrude(amount=SQUARE_TUBE_2_X_2_X_0_25_3_2_DEPTH)

    # Trim/Extend1
    split(bisect_by=Plane(origin=(500, -337.3, -674.6), x_dir=(0, -1, 0), z_dir=(0, 0, 1)), keep=Keep.TOP)

    # Trim_Extend1 3
    split(bisect_by=Plane(origin=(500, -337.3, -25.4), x_dir=(0, 1, 0), z_dir=(0, 0, -1)), keep=Keep.TOP)


solid = Compound([part.part, body_2.part, body_3.part, body_4.part, body_5.part, body_6.part, body_7.part, body_8.part])
